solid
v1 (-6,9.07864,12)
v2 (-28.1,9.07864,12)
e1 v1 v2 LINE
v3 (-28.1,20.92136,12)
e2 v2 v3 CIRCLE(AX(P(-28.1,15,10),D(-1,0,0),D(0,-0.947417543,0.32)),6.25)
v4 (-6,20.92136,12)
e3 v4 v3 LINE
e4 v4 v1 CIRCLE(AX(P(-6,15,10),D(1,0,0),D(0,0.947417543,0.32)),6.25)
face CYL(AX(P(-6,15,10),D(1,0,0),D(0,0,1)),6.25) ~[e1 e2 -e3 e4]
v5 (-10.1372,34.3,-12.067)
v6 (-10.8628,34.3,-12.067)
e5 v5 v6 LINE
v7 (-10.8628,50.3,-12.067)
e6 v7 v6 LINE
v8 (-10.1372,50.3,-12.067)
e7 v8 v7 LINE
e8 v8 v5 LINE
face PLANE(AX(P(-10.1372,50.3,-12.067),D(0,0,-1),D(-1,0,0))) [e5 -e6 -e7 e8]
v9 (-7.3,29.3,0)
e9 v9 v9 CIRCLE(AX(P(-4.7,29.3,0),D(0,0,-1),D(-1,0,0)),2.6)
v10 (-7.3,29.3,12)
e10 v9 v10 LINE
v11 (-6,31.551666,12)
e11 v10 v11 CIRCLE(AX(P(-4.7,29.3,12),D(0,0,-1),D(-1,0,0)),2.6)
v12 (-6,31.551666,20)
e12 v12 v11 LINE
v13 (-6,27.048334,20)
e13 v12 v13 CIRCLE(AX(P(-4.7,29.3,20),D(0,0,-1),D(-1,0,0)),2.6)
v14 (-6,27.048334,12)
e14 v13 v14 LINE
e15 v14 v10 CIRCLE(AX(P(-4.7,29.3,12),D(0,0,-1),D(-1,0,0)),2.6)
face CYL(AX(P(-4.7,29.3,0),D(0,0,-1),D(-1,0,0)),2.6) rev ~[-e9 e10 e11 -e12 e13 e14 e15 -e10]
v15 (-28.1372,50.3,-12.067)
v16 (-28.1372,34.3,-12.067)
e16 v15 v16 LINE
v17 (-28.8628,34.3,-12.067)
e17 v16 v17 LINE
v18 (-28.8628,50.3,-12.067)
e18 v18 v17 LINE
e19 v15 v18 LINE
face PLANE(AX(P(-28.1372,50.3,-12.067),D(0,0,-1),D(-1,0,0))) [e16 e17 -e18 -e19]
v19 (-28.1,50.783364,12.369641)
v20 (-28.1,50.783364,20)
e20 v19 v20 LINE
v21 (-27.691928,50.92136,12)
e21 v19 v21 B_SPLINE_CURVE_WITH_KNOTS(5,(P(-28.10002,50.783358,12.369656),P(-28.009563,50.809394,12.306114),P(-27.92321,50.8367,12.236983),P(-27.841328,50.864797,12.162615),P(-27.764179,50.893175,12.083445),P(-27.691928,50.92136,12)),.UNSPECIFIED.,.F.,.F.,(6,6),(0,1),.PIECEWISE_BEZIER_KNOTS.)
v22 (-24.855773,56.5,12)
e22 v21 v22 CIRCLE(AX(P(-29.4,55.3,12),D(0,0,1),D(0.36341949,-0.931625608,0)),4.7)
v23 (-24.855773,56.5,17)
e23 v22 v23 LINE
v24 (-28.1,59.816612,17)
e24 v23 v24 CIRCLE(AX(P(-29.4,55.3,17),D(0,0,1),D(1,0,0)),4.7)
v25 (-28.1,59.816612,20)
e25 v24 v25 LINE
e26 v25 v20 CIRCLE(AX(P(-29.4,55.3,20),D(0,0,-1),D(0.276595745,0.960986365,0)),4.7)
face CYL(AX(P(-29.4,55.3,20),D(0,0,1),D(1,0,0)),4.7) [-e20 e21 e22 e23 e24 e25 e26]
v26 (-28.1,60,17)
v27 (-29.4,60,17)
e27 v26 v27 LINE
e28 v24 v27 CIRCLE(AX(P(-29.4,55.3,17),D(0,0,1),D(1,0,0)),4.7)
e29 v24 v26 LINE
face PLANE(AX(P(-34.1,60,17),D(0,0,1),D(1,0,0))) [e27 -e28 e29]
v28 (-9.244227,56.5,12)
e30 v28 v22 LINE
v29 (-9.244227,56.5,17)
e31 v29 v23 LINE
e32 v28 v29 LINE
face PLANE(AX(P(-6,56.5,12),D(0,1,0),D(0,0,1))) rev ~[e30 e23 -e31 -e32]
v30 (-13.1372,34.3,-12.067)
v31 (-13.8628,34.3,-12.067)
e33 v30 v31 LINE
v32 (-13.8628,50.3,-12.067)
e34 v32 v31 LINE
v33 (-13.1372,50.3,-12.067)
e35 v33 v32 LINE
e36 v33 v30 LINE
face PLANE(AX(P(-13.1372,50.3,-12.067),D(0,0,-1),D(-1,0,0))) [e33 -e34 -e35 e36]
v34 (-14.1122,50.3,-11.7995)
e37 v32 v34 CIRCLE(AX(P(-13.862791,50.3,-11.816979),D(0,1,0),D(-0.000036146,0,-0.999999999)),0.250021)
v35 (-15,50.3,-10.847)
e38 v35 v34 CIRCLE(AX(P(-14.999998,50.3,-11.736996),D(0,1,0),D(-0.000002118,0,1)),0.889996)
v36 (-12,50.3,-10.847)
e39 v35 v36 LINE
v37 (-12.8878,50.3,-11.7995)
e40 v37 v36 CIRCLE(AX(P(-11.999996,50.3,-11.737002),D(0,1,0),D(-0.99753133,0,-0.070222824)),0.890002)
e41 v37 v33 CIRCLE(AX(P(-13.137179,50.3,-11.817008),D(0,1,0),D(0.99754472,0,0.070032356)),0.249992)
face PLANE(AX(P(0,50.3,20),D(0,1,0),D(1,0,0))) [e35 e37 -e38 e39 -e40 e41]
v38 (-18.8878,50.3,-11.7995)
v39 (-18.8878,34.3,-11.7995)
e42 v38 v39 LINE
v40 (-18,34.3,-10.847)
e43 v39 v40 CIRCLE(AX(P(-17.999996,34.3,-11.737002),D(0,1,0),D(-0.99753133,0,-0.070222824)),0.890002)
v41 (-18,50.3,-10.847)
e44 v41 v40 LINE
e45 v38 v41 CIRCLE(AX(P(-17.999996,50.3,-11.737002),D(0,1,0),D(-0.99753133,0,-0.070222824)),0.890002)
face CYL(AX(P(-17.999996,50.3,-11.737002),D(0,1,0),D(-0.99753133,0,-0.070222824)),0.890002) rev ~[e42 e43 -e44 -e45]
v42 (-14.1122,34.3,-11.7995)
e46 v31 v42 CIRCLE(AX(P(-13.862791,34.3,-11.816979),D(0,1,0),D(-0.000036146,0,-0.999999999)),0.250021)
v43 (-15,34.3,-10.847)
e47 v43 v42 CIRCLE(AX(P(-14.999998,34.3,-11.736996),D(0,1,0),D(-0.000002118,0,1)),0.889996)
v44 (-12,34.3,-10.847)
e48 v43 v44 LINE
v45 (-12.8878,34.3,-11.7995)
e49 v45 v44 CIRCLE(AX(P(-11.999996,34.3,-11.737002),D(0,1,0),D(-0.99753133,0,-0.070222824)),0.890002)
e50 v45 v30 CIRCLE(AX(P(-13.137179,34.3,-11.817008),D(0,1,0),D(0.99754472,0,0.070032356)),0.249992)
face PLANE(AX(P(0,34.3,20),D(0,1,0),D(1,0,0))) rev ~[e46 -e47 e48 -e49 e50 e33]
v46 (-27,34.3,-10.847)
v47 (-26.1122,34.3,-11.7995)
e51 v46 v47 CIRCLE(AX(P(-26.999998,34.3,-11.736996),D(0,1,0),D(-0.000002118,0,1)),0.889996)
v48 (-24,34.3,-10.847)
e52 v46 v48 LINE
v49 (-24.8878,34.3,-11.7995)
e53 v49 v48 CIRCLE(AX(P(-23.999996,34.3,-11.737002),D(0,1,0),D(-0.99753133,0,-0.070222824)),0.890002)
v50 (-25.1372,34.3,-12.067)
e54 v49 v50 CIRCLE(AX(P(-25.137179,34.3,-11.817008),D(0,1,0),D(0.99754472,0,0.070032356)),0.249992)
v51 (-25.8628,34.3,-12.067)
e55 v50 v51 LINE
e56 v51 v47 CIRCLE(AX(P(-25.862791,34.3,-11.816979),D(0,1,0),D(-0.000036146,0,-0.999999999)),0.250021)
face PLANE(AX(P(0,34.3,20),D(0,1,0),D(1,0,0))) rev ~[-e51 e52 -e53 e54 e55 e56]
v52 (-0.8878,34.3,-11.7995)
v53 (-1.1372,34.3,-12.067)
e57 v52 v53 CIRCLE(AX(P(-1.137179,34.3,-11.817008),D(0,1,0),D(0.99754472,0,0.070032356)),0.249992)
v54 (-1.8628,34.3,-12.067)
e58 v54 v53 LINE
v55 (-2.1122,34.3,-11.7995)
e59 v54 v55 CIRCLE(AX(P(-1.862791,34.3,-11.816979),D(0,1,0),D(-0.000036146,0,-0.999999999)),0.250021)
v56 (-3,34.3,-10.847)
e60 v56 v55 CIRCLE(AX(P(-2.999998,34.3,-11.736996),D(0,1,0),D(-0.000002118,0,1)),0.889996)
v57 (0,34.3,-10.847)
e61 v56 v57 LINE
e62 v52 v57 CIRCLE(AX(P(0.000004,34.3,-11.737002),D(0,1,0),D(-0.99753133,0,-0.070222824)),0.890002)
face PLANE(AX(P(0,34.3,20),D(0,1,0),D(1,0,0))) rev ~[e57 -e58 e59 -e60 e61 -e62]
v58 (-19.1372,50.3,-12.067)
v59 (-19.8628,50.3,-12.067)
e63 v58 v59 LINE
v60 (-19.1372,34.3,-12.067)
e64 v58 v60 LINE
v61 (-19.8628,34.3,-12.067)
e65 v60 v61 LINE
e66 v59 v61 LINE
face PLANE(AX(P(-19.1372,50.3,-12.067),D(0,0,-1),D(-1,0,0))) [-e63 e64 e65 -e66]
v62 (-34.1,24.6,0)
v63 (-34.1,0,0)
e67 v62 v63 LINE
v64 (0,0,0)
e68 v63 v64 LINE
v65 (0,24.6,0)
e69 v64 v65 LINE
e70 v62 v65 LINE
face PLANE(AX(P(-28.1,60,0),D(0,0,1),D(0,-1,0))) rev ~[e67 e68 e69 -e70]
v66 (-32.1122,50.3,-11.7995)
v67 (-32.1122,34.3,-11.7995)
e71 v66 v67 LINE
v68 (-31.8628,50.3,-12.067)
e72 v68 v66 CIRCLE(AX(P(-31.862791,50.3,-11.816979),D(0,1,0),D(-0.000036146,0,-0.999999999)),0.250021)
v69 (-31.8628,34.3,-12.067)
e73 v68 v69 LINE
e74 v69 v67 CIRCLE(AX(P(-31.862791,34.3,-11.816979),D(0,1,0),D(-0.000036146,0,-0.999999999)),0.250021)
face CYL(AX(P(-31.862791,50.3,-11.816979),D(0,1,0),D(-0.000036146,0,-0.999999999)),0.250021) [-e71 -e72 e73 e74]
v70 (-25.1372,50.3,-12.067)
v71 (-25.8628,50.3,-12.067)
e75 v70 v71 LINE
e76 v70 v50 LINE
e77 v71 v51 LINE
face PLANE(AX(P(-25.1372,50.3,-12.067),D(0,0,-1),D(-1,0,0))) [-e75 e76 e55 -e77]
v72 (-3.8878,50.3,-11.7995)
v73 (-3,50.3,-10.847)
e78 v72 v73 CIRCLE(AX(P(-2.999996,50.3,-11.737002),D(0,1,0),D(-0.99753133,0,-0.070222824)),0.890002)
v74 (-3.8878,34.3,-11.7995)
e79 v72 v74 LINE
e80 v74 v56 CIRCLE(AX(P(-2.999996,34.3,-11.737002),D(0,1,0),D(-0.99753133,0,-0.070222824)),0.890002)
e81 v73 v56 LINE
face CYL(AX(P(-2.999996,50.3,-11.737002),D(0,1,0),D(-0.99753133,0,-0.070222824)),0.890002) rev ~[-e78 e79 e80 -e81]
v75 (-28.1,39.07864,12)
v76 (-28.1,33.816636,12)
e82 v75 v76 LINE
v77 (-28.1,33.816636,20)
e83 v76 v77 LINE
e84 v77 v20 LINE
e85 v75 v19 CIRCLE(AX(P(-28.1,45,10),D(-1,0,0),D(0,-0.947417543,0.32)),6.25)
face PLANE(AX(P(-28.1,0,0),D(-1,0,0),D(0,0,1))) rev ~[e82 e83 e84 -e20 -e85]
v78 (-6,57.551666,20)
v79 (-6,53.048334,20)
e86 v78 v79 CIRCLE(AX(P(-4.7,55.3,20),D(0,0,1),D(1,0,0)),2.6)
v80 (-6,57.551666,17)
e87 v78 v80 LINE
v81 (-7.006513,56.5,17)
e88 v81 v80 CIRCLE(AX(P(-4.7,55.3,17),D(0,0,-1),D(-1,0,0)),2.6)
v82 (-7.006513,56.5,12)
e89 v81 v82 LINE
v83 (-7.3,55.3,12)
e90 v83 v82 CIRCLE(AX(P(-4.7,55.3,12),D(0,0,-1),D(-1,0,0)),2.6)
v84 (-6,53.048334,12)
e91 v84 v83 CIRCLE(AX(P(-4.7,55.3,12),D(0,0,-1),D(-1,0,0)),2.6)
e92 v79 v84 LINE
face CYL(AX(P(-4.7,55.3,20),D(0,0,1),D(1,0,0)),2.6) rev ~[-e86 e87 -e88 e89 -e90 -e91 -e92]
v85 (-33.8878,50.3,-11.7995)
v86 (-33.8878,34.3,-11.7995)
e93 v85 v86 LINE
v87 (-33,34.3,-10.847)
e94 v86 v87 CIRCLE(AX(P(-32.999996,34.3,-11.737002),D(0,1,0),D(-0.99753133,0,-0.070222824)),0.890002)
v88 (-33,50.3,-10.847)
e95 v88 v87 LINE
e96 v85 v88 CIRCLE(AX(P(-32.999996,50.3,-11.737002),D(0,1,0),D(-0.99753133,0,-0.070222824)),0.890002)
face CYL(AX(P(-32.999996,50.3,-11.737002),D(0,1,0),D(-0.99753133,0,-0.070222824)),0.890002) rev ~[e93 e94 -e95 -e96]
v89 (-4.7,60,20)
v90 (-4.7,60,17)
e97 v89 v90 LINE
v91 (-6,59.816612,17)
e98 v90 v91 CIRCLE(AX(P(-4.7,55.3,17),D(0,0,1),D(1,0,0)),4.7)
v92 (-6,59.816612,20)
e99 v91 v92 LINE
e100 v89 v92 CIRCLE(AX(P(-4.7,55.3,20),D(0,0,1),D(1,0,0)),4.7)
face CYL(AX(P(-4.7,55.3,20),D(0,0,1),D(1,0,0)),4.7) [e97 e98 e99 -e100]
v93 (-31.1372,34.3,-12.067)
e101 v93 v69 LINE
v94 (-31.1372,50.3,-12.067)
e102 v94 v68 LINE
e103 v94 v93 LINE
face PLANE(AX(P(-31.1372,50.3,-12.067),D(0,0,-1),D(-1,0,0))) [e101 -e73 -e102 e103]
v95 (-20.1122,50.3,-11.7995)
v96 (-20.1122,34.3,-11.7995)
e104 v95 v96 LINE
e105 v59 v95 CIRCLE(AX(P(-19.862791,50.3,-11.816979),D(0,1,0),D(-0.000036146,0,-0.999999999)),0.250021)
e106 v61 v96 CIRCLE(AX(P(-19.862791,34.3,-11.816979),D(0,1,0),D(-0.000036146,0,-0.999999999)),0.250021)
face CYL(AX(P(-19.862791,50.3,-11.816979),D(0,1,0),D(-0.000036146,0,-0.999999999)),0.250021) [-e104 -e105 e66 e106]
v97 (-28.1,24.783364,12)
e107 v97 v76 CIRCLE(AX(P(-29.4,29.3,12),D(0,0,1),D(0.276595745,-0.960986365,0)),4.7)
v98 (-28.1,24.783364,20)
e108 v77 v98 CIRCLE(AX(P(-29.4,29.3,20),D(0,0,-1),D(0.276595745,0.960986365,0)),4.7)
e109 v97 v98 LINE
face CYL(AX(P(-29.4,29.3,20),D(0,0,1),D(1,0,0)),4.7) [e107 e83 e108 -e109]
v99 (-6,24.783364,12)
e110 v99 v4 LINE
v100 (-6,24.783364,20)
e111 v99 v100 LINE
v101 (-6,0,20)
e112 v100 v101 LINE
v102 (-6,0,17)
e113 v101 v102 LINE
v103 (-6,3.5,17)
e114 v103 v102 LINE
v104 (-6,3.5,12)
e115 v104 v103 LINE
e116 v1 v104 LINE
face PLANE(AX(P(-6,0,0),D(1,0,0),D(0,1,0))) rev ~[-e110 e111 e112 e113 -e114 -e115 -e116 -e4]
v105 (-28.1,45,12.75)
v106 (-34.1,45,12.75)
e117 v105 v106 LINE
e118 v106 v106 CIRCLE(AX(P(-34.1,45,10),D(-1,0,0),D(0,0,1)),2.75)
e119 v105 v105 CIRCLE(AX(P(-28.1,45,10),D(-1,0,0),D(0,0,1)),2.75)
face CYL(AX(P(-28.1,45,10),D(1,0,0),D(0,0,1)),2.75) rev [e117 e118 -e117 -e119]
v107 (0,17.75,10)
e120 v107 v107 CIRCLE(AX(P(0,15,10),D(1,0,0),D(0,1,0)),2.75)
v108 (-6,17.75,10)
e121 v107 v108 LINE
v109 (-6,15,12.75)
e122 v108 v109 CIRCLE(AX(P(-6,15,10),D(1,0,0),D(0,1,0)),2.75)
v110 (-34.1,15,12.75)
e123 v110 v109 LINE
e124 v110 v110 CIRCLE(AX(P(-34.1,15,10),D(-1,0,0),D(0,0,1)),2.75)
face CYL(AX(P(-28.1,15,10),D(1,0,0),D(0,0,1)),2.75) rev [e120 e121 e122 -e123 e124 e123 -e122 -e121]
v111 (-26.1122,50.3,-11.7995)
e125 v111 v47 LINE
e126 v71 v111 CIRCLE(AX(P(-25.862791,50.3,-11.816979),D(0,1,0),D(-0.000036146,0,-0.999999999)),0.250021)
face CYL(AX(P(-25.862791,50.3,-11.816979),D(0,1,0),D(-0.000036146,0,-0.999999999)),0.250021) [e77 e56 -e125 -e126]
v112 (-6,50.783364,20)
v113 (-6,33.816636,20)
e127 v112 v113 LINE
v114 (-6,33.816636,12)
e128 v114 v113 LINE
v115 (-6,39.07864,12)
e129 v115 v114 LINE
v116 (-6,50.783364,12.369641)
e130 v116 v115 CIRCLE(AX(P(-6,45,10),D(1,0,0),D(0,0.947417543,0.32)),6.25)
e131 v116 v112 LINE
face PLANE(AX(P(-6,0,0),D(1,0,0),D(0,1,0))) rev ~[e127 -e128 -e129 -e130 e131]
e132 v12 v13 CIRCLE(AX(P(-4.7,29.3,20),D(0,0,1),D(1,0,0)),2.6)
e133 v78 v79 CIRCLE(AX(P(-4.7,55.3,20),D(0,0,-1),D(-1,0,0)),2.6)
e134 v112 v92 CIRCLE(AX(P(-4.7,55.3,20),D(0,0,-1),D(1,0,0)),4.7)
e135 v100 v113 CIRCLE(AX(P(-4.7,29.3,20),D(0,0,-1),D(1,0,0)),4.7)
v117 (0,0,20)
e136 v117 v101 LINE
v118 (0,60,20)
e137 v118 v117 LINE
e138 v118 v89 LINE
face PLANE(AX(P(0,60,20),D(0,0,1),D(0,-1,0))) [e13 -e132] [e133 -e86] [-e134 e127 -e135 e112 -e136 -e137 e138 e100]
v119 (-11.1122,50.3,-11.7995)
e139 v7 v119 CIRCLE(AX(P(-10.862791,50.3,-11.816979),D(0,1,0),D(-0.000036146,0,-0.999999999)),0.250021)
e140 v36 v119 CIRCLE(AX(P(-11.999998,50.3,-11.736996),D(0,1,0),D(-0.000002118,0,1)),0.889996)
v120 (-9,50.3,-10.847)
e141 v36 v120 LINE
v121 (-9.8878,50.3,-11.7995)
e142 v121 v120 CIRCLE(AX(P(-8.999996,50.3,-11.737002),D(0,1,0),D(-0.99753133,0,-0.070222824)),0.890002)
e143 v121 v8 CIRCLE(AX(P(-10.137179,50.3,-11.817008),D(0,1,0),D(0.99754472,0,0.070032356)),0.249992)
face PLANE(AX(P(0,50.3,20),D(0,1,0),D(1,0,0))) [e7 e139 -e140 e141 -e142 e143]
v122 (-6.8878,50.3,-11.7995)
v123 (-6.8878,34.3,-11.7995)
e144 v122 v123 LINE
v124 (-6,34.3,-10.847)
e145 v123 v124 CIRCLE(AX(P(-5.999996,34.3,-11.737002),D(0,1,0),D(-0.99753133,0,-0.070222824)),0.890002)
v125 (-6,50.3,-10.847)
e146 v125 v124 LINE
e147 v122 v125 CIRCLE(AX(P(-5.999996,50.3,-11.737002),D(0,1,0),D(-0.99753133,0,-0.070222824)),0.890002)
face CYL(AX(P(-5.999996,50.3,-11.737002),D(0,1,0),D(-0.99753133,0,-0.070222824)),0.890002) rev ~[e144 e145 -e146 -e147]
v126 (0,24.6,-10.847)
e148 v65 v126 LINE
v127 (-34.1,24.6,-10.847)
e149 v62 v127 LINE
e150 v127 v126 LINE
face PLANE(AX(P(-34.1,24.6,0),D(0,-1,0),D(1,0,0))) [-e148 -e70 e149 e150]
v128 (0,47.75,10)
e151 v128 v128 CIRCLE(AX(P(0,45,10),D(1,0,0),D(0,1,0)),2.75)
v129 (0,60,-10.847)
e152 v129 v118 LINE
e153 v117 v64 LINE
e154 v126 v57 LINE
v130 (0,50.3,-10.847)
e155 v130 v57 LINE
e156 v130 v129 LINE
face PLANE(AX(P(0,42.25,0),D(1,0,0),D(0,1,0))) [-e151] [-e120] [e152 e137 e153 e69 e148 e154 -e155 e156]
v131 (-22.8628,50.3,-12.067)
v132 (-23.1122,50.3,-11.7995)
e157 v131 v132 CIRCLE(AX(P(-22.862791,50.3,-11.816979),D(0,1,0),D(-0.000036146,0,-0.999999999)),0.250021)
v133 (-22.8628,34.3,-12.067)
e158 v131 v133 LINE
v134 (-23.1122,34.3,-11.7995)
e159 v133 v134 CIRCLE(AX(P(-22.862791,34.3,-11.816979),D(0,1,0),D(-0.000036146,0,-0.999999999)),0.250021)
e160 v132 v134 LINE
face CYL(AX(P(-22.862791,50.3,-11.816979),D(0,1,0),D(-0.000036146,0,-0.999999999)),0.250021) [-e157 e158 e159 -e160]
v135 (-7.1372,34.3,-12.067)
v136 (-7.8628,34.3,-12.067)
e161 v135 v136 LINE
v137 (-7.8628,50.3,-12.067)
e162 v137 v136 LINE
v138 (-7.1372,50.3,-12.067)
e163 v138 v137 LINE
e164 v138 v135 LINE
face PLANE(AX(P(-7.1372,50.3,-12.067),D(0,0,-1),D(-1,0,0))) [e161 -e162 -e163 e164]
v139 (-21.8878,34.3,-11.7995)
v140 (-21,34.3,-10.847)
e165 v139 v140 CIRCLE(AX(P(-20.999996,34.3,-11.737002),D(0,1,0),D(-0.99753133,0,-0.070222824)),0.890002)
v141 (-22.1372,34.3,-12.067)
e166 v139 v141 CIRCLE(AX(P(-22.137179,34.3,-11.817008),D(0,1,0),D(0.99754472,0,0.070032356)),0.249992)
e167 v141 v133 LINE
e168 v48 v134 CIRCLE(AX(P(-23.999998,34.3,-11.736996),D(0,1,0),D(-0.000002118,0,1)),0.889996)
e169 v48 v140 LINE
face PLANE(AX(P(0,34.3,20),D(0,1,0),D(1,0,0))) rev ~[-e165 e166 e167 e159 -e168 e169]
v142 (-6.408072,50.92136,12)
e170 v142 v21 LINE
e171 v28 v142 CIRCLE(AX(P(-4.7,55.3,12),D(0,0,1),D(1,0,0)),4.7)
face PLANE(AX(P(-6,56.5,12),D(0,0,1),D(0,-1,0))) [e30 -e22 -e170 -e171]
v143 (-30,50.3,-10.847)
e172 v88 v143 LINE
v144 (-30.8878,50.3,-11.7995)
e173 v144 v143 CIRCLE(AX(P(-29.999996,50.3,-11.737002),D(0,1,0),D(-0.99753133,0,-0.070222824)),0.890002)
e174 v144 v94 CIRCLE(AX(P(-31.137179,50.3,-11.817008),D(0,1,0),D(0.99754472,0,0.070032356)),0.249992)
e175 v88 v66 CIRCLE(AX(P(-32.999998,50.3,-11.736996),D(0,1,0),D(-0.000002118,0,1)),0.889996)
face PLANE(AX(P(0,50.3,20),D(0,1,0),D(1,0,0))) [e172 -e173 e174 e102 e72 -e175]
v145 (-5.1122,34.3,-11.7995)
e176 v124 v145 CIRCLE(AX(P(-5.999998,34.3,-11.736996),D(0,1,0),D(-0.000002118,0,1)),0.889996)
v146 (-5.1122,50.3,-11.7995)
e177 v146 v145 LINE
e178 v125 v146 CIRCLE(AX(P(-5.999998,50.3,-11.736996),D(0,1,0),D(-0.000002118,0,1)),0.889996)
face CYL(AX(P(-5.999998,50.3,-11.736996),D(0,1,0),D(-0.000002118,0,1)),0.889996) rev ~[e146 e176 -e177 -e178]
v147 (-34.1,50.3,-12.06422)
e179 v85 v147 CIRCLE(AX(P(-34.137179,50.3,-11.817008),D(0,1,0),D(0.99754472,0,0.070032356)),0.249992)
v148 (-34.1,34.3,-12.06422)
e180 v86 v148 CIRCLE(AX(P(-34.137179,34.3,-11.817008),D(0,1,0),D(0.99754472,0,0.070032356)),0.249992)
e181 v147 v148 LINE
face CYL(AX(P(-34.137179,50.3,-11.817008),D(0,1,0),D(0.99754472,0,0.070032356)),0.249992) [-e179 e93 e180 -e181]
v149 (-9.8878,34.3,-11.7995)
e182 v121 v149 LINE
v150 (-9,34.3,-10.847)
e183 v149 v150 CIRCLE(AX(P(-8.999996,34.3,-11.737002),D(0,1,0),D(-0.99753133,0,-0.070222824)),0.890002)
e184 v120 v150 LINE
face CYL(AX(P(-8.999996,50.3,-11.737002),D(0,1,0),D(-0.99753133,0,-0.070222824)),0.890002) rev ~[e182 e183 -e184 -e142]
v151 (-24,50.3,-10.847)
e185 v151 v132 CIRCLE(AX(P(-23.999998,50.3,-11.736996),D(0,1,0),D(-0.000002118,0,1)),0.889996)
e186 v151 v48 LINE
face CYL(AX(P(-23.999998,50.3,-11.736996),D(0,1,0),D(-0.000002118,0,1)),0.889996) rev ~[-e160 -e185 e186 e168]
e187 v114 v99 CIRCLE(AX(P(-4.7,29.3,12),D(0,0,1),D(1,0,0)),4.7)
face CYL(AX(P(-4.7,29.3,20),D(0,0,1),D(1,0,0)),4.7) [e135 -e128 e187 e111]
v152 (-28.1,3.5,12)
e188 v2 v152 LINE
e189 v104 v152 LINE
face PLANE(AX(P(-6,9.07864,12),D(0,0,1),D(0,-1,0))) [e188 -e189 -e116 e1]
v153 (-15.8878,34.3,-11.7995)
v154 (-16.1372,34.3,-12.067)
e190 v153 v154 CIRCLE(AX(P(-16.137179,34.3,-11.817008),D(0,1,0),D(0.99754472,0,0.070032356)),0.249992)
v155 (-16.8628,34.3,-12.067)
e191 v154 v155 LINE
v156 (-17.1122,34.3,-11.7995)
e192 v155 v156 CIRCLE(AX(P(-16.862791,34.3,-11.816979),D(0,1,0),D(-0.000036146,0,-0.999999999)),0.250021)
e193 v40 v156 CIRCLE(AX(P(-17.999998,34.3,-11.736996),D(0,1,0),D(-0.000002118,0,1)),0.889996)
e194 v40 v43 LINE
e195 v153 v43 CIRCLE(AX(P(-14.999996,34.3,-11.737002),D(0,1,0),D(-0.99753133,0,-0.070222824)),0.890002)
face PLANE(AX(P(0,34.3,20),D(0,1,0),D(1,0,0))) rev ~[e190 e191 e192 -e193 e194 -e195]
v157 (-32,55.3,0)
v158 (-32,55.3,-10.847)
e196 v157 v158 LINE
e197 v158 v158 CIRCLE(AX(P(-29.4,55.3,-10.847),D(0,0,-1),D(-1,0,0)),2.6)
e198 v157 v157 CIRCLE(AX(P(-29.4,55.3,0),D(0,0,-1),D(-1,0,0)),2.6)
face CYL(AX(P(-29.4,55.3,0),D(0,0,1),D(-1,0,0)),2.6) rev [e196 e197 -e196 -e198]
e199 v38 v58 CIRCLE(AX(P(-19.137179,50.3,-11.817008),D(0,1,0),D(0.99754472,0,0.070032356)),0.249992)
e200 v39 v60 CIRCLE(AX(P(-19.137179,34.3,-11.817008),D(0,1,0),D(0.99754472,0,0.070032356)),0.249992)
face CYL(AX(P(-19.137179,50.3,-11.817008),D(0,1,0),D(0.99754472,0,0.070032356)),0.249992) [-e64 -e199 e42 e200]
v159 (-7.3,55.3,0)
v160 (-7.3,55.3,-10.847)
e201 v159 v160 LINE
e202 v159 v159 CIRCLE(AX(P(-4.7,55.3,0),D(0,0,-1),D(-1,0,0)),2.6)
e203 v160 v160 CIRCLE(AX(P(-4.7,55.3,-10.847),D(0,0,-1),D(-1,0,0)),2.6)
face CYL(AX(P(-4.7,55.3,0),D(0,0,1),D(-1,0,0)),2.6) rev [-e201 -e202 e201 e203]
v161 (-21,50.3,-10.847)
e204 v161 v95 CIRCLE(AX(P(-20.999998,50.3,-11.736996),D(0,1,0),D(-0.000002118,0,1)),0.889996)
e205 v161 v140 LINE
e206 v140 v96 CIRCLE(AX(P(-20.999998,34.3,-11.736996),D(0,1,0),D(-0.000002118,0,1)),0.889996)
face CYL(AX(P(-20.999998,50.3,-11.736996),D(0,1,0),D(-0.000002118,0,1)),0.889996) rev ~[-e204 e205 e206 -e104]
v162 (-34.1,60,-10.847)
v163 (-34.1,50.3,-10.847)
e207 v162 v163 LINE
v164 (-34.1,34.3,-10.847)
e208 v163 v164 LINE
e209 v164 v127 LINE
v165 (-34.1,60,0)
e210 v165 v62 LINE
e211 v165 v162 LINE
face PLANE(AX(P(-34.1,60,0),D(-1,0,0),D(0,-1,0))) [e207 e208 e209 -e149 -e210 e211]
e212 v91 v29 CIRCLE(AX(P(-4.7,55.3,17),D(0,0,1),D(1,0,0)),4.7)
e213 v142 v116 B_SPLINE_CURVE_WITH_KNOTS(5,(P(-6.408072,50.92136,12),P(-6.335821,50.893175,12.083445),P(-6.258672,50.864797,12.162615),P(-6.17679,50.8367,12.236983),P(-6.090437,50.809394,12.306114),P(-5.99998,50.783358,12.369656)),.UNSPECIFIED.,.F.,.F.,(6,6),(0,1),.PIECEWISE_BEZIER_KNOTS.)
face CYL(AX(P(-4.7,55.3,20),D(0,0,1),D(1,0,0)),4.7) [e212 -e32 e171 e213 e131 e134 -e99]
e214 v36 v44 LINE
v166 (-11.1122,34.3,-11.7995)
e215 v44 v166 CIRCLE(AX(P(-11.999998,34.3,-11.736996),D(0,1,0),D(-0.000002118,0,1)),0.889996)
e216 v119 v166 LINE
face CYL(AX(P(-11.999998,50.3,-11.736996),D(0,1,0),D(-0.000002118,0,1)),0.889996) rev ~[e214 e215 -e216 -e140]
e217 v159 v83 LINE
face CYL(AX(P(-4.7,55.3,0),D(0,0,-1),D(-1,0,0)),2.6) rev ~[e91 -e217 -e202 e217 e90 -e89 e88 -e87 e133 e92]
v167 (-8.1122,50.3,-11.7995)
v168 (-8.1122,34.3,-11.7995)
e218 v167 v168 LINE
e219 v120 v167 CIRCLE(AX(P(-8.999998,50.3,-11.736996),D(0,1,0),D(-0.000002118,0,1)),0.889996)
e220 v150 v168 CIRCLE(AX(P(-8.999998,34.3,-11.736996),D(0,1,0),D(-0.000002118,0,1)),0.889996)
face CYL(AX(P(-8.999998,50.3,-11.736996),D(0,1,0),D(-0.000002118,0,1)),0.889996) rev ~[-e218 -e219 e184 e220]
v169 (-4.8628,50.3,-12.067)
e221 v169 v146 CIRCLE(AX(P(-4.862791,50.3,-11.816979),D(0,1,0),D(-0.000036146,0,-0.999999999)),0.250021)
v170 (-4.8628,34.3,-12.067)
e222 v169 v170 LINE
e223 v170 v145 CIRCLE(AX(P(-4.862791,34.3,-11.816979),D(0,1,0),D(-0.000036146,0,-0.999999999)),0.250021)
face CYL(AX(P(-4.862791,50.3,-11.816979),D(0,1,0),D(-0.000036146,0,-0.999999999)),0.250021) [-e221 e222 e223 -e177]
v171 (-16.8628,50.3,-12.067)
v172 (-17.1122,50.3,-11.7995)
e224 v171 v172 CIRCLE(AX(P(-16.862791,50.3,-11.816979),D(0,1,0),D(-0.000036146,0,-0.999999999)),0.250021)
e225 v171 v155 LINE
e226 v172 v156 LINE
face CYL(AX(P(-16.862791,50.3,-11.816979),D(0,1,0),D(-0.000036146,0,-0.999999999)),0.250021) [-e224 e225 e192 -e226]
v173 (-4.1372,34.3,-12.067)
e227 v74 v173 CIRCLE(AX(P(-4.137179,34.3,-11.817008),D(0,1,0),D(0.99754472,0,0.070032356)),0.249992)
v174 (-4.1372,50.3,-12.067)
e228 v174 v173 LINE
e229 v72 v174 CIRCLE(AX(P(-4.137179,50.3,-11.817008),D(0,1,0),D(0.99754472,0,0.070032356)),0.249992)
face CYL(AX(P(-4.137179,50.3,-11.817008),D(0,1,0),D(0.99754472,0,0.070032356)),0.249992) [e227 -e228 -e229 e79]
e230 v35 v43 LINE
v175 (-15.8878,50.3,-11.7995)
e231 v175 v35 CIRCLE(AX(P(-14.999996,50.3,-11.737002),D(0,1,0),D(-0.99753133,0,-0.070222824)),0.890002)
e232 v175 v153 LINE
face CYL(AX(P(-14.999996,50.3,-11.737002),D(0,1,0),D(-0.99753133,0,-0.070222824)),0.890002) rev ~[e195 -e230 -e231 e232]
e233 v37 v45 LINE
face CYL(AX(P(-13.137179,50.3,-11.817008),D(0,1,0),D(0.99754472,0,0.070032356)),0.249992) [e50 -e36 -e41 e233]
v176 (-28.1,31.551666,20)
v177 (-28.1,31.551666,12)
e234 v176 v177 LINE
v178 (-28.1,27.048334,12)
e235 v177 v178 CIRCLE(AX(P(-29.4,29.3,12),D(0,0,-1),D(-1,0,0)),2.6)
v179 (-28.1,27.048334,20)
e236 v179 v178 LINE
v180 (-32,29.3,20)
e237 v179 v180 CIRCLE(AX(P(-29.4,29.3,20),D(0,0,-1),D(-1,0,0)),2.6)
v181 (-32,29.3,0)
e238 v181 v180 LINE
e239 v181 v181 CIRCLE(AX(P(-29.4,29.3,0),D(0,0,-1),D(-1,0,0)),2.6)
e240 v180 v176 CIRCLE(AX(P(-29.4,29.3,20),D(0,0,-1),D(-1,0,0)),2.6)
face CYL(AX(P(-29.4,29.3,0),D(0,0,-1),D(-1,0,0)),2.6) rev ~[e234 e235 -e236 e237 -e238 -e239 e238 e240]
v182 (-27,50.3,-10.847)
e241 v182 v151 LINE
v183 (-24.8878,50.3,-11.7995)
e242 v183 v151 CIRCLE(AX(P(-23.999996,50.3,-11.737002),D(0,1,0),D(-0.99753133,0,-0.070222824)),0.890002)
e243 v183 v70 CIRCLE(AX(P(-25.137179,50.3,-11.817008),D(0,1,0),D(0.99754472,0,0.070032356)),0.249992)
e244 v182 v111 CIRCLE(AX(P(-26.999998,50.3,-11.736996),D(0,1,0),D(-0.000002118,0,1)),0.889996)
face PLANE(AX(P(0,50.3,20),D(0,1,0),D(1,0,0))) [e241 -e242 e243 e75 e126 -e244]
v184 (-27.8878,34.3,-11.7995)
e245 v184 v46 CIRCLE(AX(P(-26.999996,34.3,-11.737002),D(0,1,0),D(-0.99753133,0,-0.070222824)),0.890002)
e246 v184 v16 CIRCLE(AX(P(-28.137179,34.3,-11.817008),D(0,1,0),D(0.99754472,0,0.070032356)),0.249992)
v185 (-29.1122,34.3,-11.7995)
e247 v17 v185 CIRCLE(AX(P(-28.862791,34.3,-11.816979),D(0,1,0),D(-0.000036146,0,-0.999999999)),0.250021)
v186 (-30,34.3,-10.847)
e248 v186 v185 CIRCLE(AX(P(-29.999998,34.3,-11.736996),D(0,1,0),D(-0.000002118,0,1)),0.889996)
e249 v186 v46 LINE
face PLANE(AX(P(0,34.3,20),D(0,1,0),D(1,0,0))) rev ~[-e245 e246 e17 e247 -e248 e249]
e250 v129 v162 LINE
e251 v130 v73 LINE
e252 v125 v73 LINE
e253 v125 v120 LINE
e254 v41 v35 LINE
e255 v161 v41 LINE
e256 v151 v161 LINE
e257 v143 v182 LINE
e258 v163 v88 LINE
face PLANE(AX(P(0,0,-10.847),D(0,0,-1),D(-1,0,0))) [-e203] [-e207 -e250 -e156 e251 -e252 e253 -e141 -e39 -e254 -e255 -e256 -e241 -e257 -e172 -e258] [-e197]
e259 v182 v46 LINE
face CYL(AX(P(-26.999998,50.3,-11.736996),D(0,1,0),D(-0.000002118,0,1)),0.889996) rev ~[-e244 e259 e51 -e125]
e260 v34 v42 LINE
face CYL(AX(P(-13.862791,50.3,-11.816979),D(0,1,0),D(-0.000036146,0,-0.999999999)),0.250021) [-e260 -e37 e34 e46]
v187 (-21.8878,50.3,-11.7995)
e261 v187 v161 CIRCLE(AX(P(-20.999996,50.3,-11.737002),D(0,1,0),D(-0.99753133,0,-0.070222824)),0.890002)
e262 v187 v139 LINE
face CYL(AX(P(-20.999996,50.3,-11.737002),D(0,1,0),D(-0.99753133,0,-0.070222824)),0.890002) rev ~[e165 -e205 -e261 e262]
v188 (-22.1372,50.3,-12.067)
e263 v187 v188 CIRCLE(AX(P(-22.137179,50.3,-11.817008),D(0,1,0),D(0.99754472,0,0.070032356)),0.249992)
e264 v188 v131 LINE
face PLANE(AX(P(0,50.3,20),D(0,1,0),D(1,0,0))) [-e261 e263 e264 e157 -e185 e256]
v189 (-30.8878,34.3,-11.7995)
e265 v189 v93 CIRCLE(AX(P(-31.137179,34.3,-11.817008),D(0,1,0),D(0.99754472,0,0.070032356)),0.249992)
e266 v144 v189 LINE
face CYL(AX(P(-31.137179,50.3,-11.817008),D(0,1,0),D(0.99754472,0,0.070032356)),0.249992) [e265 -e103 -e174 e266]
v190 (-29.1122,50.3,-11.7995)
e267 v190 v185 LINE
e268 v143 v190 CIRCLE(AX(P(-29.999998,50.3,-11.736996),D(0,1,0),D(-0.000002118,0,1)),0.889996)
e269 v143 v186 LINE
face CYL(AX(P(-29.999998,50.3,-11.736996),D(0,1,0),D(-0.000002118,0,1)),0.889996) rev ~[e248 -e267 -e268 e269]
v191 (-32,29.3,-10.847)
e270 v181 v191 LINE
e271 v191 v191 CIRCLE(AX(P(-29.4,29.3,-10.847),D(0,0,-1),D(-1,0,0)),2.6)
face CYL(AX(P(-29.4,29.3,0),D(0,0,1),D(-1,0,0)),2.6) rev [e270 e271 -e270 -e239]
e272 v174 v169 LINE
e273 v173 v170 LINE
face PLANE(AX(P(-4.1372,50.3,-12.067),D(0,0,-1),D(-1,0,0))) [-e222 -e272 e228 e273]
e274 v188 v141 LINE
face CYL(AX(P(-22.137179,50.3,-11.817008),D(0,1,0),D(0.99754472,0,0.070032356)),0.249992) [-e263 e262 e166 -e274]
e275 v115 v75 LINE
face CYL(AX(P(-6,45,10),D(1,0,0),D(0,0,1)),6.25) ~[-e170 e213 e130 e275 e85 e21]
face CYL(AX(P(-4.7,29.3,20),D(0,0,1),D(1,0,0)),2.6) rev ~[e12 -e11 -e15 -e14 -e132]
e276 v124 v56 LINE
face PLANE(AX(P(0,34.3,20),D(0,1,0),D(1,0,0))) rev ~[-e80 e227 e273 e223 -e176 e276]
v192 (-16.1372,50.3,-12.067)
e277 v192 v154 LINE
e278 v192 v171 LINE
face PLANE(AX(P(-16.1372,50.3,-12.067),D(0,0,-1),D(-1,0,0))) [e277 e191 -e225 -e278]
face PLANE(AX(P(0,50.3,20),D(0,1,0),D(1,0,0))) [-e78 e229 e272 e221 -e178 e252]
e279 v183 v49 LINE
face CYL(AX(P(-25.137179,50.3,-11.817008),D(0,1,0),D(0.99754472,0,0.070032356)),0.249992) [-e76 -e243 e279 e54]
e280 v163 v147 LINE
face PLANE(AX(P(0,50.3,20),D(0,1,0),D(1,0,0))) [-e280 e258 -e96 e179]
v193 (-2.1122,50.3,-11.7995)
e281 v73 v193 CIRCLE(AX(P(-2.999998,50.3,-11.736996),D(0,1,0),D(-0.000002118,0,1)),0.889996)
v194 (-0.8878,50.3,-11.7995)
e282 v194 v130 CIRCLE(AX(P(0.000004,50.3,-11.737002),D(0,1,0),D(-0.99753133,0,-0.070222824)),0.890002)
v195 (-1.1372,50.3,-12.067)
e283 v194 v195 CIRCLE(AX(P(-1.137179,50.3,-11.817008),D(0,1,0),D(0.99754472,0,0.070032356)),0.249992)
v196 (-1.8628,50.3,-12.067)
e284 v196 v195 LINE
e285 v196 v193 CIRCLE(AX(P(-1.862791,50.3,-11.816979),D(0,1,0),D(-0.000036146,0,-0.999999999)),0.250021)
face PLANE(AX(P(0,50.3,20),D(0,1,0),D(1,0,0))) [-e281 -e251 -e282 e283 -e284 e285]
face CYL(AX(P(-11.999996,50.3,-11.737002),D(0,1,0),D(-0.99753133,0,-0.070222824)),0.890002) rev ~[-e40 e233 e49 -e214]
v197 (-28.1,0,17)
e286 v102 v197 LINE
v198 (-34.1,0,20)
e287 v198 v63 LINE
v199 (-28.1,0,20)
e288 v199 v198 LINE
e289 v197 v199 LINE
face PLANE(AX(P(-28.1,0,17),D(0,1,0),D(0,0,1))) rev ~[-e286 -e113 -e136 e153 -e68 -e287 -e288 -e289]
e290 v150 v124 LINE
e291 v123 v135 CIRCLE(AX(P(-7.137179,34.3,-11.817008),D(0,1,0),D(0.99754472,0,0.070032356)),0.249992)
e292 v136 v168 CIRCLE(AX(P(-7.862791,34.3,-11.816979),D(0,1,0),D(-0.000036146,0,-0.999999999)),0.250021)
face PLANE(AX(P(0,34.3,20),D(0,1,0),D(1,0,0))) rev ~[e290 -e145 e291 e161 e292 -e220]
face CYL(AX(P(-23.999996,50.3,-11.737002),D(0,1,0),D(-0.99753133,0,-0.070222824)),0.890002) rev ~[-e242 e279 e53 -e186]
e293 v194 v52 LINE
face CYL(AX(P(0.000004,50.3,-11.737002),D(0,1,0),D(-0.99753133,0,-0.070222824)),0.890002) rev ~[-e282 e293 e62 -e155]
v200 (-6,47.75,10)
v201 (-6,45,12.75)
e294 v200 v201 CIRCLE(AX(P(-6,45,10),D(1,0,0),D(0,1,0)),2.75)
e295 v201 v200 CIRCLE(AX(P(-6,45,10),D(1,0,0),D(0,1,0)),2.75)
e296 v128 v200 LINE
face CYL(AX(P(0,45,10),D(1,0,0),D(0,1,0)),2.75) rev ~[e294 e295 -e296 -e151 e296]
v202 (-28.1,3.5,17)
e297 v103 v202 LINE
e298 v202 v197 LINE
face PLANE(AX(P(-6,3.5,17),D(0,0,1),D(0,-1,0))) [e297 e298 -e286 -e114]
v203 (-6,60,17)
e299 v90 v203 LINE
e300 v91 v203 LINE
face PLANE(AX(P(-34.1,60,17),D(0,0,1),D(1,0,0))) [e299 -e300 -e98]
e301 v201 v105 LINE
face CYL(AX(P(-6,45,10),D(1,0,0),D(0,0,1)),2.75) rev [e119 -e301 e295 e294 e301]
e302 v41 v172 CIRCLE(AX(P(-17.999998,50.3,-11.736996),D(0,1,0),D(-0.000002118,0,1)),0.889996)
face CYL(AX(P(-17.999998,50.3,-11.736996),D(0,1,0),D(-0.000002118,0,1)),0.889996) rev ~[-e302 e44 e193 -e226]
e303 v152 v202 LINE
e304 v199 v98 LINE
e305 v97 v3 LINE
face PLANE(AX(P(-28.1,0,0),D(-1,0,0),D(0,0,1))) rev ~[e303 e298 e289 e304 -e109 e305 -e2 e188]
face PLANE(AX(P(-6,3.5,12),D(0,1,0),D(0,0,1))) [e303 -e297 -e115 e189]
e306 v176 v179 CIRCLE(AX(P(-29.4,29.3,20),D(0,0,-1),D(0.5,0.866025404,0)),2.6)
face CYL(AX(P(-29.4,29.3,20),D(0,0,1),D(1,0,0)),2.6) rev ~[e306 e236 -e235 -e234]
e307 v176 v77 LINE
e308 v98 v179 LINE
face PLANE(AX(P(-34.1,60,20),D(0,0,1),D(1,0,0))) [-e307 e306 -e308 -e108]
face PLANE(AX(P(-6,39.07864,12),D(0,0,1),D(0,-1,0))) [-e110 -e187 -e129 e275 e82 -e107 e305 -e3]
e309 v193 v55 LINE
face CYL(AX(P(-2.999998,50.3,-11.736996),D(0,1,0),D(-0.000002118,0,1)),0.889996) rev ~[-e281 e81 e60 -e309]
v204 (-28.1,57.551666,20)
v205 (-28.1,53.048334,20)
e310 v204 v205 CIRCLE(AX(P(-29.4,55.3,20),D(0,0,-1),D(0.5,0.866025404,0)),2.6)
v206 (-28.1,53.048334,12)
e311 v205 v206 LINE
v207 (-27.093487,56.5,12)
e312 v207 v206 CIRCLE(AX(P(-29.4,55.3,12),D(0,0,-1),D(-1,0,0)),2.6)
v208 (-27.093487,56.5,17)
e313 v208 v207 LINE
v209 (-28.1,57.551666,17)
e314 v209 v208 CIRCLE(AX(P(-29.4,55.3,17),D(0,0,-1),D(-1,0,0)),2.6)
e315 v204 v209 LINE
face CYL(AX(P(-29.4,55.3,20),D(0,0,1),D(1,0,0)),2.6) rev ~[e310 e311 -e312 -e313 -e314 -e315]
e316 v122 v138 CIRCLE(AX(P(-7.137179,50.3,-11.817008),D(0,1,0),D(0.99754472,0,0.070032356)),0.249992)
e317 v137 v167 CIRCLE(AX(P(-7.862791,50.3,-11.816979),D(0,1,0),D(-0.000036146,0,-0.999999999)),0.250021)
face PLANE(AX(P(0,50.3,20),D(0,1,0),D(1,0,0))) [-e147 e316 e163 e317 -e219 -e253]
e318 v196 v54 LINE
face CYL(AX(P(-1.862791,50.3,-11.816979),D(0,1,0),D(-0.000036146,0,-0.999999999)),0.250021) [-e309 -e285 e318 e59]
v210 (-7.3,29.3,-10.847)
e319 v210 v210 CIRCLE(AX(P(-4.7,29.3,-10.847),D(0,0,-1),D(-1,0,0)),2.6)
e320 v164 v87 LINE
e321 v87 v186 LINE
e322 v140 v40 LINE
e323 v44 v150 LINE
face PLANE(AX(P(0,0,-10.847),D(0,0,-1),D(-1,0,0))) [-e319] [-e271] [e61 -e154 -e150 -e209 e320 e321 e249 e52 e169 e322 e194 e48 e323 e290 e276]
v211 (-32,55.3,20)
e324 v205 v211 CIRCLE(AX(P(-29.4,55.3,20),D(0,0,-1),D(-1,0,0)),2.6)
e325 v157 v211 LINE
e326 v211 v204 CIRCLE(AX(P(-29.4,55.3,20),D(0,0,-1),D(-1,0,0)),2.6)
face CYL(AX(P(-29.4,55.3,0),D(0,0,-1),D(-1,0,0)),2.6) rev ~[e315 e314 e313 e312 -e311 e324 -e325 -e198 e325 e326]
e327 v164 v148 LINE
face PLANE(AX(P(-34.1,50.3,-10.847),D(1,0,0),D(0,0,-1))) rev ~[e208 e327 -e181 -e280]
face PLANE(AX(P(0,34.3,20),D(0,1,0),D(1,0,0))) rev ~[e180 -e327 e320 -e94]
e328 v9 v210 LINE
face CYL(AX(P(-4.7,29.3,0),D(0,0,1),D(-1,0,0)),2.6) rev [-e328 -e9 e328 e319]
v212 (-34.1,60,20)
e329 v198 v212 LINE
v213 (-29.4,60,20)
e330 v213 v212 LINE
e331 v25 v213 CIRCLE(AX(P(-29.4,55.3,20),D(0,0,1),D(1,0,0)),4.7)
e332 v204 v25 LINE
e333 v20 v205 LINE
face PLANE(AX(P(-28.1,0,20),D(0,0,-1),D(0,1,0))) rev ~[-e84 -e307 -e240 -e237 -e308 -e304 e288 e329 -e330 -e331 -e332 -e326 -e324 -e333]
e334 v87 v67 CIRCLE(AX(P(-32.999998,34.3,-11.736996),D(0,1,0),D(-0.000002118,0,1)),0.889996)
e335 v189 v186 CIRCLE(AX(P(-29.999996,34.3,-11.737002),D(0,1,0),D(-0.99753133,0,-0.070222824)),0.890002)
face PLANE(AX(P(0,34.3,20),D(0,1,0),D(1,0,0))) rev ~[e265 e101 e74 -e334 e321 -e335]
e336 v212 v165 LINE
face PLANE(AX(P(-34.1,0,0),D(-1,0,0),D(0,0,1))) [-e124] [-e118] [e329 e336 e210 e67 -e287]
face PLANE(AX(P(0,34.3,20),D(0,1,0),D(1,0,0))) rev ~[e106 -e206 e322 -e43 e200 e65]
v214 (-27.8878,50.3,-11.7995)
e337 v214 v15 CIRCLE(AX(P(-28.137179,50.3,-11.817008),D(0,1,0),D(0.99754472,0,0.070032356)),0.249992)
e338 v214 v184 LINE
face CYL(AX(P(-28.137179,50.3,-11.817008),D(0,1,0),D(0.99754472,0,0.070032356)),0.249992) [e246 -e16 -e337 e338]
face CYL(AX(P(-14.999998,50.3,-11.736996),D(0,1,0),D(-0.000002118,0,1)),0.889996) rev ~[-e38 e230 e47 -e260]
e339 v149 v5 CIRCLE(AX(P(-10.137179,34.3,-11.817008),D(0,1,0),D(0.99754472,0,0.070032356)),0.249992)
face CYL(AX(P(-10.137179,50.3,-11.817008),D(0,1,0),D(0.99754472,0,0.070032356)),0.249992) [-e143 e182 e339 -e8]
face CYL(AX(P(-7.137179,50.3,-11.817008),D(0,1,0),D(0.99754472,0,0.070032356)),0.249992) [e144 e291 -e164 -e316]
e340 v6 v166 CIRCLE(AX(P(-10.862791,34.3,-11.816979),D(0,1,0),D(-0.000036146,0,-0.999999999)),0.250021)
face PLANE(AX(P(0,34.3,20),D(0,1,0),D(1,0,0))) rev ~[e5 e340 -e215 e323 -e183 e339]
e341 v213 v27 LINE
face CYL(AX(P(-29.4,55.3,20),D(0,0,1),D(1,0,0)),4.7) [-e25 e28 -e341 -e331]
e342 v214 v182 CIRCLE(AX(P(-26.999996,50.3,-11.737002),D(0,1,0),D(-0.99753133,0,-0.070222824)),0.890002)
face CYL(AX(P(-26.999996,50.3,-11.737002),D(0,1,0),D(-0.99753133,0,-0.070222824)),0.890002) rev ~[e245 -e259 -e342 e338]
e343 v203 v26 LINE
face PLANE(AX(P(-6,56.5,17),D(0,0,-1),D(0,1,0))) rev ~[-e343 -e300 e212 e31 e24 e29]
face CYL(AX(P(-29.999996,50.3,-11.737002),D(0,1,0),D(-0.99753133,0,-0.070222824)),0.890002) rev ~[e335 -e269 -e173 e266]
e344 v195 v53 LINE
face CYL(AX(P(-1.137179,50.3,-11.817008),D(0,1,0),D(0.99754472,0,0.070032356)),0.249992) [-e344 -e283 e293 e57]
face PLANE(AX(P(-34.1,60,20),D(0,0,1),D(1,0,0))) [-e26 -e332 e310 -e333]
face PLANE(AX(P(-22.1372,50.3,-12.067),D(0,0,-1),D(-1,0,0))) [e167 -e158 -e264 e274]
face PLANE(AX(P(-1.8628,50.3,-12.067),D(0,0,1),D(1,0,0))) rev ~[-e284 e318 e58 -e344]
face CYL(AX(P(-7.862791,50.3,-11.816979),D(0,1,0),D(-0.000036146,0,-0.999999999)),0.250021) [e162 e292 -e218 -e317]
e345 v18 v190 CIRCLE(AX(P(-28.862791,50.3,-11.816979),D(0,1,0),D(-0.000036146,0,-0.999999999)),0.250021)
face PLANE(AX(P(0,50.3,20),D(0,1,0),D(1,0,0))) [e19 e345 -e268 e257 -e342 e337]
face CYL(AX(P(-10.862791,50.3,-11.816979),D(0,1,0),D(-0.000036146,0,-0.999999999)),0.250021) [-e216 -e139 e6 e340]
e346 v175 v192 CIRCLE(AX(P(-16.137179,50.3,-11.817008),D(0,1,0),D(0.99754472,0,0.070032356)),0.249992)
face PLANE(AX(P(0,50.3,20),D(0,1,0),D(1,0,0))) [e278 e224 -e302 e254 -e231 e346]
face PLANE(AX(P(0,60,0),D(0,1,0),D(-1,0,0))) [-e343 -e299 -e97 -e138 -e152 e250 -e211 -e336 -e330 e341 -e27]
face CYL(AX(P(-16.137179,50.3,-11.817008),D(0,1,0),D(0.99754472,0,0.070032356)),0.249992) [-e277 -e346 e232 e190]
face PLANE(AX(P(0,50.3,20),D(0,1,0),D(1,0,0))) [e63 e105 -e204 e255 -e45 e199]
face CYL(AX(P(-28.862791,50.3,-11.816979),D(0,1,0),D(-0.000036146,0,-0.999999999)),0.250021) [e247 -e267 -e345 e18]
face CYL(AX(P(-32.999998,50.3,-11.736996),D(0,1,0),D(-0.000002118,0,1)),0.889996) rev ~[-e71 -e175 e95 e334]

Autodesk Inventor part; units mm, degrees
ref_plane "YZ Plane" through (0, 0, 0) normal (1, 0, 0) x (0, 1, 0)
ref_plane "XZ Plane" through (0, 0, 0) normal (0, 1, 0) x (-1, 0, 0)
sketch "Sketch1" plane through (0, 0, 0) normal (1, 0, 0) x (0, 1, 0)
  line L0 (0, 0) -> (60, 0)
  line L1 (60, 0) -> (60, 20)
  line L2 (60, 20) -> (0, 20)
  line L3 (0, 20) -> (0, 0)
  line L4 (60, 10) -> (0, 10) construction
  line L5 (60, 10) -> (30, 10) construction
  line L6 (30, 10) -> (0, 10) construction
  circle A0 centre (45, 10) radius 2.75
  circle A1 centre (15, 10) radius 2.75
  dimension "d0" = 60
  dimension "d1" = 20
  dimension "d2" = 5.5
  dimension "d3" = 5.5
extrude "Extrusion1" add sketch "Sketch1" against normal blind 6
sketch "Sketch2" plane through (-6, 0, 0) normal (-1, 0, 0) x (0, 0, 1)
  circle A0 centre (10, 45) radius 2.75
  circle A1 centre (10, 15) radius 2.75
  circle A2 centre (10, 45) radius 6.25
  circle A3 centre (10, 15) radius 6.25
  line L0 (20, 60) -> (0, 60)
  line L1 (12, 60) -> (12, 0)
  line L2 (8, 60) -> (8, 0)
  line L3 (0, 0) -> (20, 0)
  line L4 (0, 60) -> (0, 0)
  line L5 (20, 0) -> (20, 60)
  line L6 (12, 56.5) -> (17, 56.5)
  line L7 (17, 56.5) -> (17, 60)
  line L8 (8, 56.5) -> (3, 56.5)
  line L9 (3, 56.5) -> (3, 60)
  line L10 (8, 3.5) -> (3, 3.5)
  line L11 (3, 3.5) -> (3, 0)
  line L12 (12, 3.5) -> (17, 3.5)
  line L13 (17, 3.5) -> (17, 0)
  point P0 (12, 39.0786)
  point P1 (12, 50.9214)
  point P2 (8, 50.9214)
  point P3 (8, 39.0786)
  point P4 (8, 20.9214)
  point P5 (8, 9.0786)
  point P6 (12, 9.0786)
  point P7 (12, 20.9214)
  dimension "d6" = 3.5
  dimension "d7" = 8
  dimension "d8" = 8
  dimension "d9" = 3.5
  dimension "d10" = 3.5
  dimension "d11" = 3.5
  dimension "d16" = 3.5
extrude "Extrusion2" add sketch "Sketch2" along normal blind 22.1 contours A0 L1 A2 | A0 L2 A2 L1 | L1 A2 L2 A0 | A0 L2 A2 | A2 L2 L0 L1 | L1 A3 L2 A2 | A2 L2 A3 L10 L11 L3 L4 L0 L9 L8 | L1 L0 L7 L6 | L1 A1 L2 A3 | A3 L1 A1 | L8 L9 L0 L2 | L2 A1 A3 | L2 A1 L1 A3 | A3 L1 L3 L2 | L2 L3 L11 L10 | L12 L13 L3 L1
sketch "Sketch3" plane through (-28.1, 0, 0) normal (-1, 0, 0) x (0, 0, 1)
  circle A0 centre (10, 45) radius 2.75
  circle A1 centre (10, 15) radius 2.75
  line L0 (20, 0) -> (20, 60)
  line L1 (17, 0) -> (20, 0)
  line L2 (0, 0) -> (17, 0)
  line L3 (0, 0) -> (20, 0)
  line L4 (0, 60) -> (0, 0)
  line L5 (20, 60) -> (17, 60)
  line L6 (17, 60) -> (0, 60)
  line L7 (20, 60) -> (17, 60)
  point P0 (3, 0)
  point P1 (3, 60)
extrude "Extrusion3" add sketch "Sketch3" along normal blind 6
sketch "Sketch4" plane through (0, 0, 0) normal (0, 0, -1) x (-1, 0, 0)
  line L0 (0, 42.25) -> (0, 47.75)
  line L1 (0, 0) -> (0, 60)
  line L2 (0, 50.3) -> (34.1, 50.3) construction
  line L3 (34.1, 60) -> (34.1, 0)
  line L4 (0, 34.3) -> (34.1, 34.3) construction
  line L5 (29.4, 55.3) -> (4.7, 55.3) construction
  line L6 (4.7, 55.3) -> (4.7, 29.3) construction
  line L7 (4.7, 29.3) -> (29.4, 29.3) construction
  line L8 (29.4, 29.3) -> (29.4, 55.3) construction
  circle A0 centre (29.4, 55.3) radius 2.6
  circle A1 centre (29.4, 29.3) radius 2.6
  circle A2 centre (4.7, 29.3) radius 2.6
  circle A3 centre (4.7, 55.3) radius 2.6
  line L9 (0, 60) -> (34.1, 60)
  line L10 (34.1, 24.6) -> (0, 24.6)
  line L11 (0, 60) -> (0, 0)
  dimension "d17" = 2.55
  dimension "d18" = 16
  dimension "d19" = 5.2
  dimension "d20" = 5.2
  dimension "d21" = 5.2
  dimension "d22" = 5.2
  dimension "d23" = 5
  dimension "d24" = 5
  dimension "d25" = 4.7
  dimension "d26" = 4.7
  dimension "d27" = 4.7
  dimension "d28" = 4.7
extrude "Extrusion4" add sketch "Sketch4" along normal blind 10.847
sketch "Sketch5" plane through (-4.7, 29.3, 0) normal (0, 0, -1) x (-1, 0, 0)
  line L0 (-4.7, 30.7) -> (-4.7, -4.7)
  line L1 (-4.7, -4.7) -> (29.4, -4.7)
  line L2 (29.4, -4.7) -> (29.4, 30.7)
  line L3 (29.4, 30.7) -> (-4.7, 30.7)
  circle A0 centre (24.7, 26) radius 2.6
  circle A1 centre (24.7, 0) radius 2.6
  circle A2 centre (0, 0) radius 2.6
  circle A3 centre (0, 26) radius 2.6
  point P0 (-4.7, -29.3)
extrude "Extrusion5" cut sketch "Sketch5" against normal through all contours A0 | A1 | A2 | A3
sketch "Sketch6" plane through (-34.1, 60, 20) normal (0, 0, 1) x (1, 0, 0)
  line L0 (34.1, 0) -> (34.1, -35.4)
  line L1 (34.1, -35.4) -> (0, -35.4)
  line L2 (0, -35.4) -> (0, 0)
  line L3 (0, 0) -> (34.1, 0)
  circle A0 centre (4.7, -4.7) radius 2.6
  circle A1 centre (4.7, -30.7) radius 2.6
  circle A2 centre (29.4, -30.7) radius 2.6
  circle A3 centre (29.4, -4.7) radius 2.6
  circle A4 centre (4.7, -4.7) radius 4.7
  circle A5 centre (29.4, -4.7) radius 4.7
  circle A6 centre (4.7, -30.7) radius 4.7
  circle A7 centre (29.4, -30.7) radius 4.7
  point P0 (34.1, -60)
  dimension "d33" = 2.1
  dimension "d34" = 2.1
  dimension "d35" = 2.1
  dimension "d36" = 2.1
extrude "Extrusion6" add sketch "Sketch6" against normal up to next contours A5 | A7 | A4 | A6
sketch "Sketch7" plane through (-34.1, 60, 20) normal (0, 0, 1) x (1, 0, 0)
  arc A0 (6, -9.2166) -> (6, -0.1834) centre (4.7, -4.7) ccw
  arc A1 (28.1, -0.1834) -> (28.1, -9.2166) centre (29.4, -4.7) ccw
  circle A2 centre (4.7, -4.7) radius 4.7
  circle A3 centre (29.4, -4.7) radius 4.7
  circle A4 centre (29.4, -30.7) radius 2.6
  circle A5 centre (29.4, -4.7) radius 2.6
  arc A6 (28.1, -0.1834) -> (28.1, -9.2166) centre (29.4, -4.7) ccw
  line L0 (28.1, -26.1834) -> (28.1, -9.2166)
  arc A7 (28.1, -26.1834) -> (28.1, -35.2166) centre (29.4, -30.7) ccw
  line L1 (28.1, -60) -> (28.1, -35.2166)
  line L2 (34.1, -60) -> (28.1, -60)
  line L3 (34.1, 0) -> (34.1, -60)
  line L4 (34.1, 0) -> (28.1, 0)
  line L5 (28.1, -0.1834) -> (28.1, 0)
  circle A8 centre (4.7, -30.7) radius 2.6
  circle A9 centre (4.7, -4.7) radius 2.6
  line L6 (6, 0) -> (0, 0)
  line L7 (0, -60) -> (0, 0)
  line L8 (6, -60) -> (0, -60)
  line L9 (6, -60) -> (6, -35.2166)
  arc A10 (6, -35.2166) -> (6, -26.1834) centre (4.7, -30.7) ccw
  line L10 (6, -26.1834) -> (6, -9.2166)
  arc A11 (6, -9.2166) -> (6, -0.1834) centre (4.7, -4.7) ccw
  line L11 (6, -0.1834) -> (6, 0)
  point P0 (29.4, 0)
  point P1 (4.7, 0)
extrude "Extrusion7" cut sketch "Sketch7" against normal up to surface (3 mm away) contours A2 L6 L11 | L5 L4 A3
ref_plane "Work Plane2" through (0, 50.3, 20) normal (0, 1, 0) x (1, 0, 0)
sketch "Sketch9" plane through (0, 50.3, 20) normal (0, 1, 0) x (1, 0, 0)
  line L0 (-34.1, 30.847) -> (0, 30.847)
  line L1 (0, 33.247) -> (-34.1, 33.247)
  arc A0 (-0.8878, 31.7995) -> (0, 30.847) centre (0, 31.737) ccw
  line L2 (-3, 33.247) -> (-3, 30.847) construction
  line L3 (-7.3, 30.847) -> (-2.1, 30.847)
  line L4 (0, 30.847) -> (-34.1, 30.847) construction
  line L5 (0, 33.247) -> (0, 30.847)
  arc A1 (-3, 30.847) -> (-2.1122, 31.7995) centre (-3, 31.737) ccw
  line L6 (-34.1, 32.067) -> (-3, 32.067) construction
  line L7 (-1.8628, 32.067) -> (-1.1372, 32.067)
  arc A2 (-1.8628, 32.067) -> (-2.1122, 31.7995) centre (-1.8628, 31.817) ccw
  arc A3 (-0.8878, 31.7995) -> (-1.1372, 32.067) centre (-1.1372, 31.817) ccw
  arc A4 (-6, 30.847) -> (-5.1122, 31.7995) centre (-6, 31.737) ccw
  line L8 (-6, 33.247) -> (-6, 30.847) construction
  arc A5 (-3.8878, 31.7995) -> (-3, 30.847) centre (-3, 31.737) ccw
  line L9 (-4.1372, 32.067) -> (-4.8628, 32.067)
  arc A6 (-3.8878, 31.7995) -> (-4.1372, 32.067) centre (-4.1372, 31.817) ccw
  arc A7 (-4.8628, 32.067) -> (-5.1122, 31.7995) centre (-4.8628, 31.817) ccw
  line L10 (-9, 33.247) -> (-9, 30.847) construction
  arc A8 (-9, 30.847) -> (-8.1122, 31.7995) centre (-9, 31.737) ccw
  arc A9 (-7.8628, 32.067) -> (-8.1122, 31.7995) centre (-7.8628, 31.817) ccw
  line L11 (-7.1372, 32.067) -> (-7.8628, 32.067)
  arc A10 (-6.8878, 31.7995) -> (-7.1372, 32.067) centre (-7.1372, 31.817) ccw
  arc A11 (-6.8878, 31.7995) -> (-6, 30.847) centre (-6, 31.737) ccw
  line L12 (-12, 33.247) -> (-12, 30.847) construction
  arc A12 (-12, 30.847) -> (-11.1122, 31.7995) centre (-12, 31.737) ccw
  arc A13 (-10.8628, 32.067) -> (-11.1122, 31.7995) centre (-10.8628, 31.817) ccw
  line L13 (-10.1372, 32.067) -> (-10.8628, 32.067)
  arc A14 (-9.8878, 31.7995) -> (-10.1372, 32.067) centre (-10.1372, 31.817) ccw
  arc A15 (-9.8878, 31.7995) -> (-9, 30.847) centre (-9, 31.737) ccw
  line L14 (-15, 33.247) -> (-15, 30.847) construction
  arc A16 (-15, 30.847) -> (-14.1122, 31.7995) centre (-15, 31.737) ccw
  arc A17 (-13.8628, 32.067) -> (-14.1122, 31.7995) centre (-13.8628, 31.817) ccw
  line L15 (-13.1372, 32.067) -> (-13.8628, 32.067)
  arc A18 (-12.8878, 31.7995) -> (-13.1372, 32.067) centre (-13.1372, 31.817) ccw
  arc A19 (-12.8878, 31.7995) -> (-12, 30.847) centre (-12, 31.737) ccw
  line L16 (-18, 33.247) -> (-18, 30.847) construction
  arc A20 (-18, 30.847) -> (-17.1122, 31.7995) centre (-18, 31.737) ccw
  arc A21 (-16.8628, 32.067) -> (-17.1122, 31.7995) centre (-16.8628, 31.817) ccw
  line L17 (-16.1372, 32.067) -> (-16.8628, 32.067)
  arc A22 (-15.8878, 31.7995) -> (-16.1372, 32.067) centre (-16.1372, 31.817) ccw
  arc A23 (-15.8878, 31.7995) -> (-15, 30.847) centre (-15, 31.737) ccw
  line L18 (-21, 33.247) -> (-21, 30.847) construction
  arc A24 (-21, 30.847) -> (-20.1122, 31.7995) centre (-21, 31.737) ccw
  arc A25 (-19.8628, 32.067) -> (-20.1122, 31.7995) centre (-19.8628, 31.817) ccw
  line L19 (-19.1372, 32.067) -> (-19.8628, 32.067)
  arc A26 (-18.8878, 31.7995) -> (-19.1372, 32.067) centre (-19.1372, 31.817) ccw
  arc A27 (-18.8878, 31.7995) -> (-18, 30.847) centre (-18, 31.737) ccw
  line L20 (-24, 33.247) -> (-24, 30.847) construction
  arc A28 (-24, 30.847) -> (-23.1122, 31.7995) centre (-24, 31.737) ccw
  arc A29 (-22.8628, 32.067) -> (-23.1122, 31.7995) centre (-22.8628, 31.817) ccw
  line L21 (-22.1372, 32.067) -> (-22.8628, 32.067)
  arc A30 (-21.8878, 31.7995) -> (-22.1372, 32.067) centre (-22.1372, 31.817) ccw
  arc A31 (-21.8878, 31.7995) -> (-21, 30.847) centre (-21, 31.737) ccw
  line L22 (-27, 33.247) -> (-27, 30.847) construction
  arc A32 (-27, 30.847) -> (-26.1122, 31.7995) centre (-27, 31.737) ccw
  arc A33 (-25.8628, 32.067) -> (-26.1122, 31.7995) centre (-25.8628, 31.817) ccw
  line L23 (-25.1372, 32.067) -> (-25.8628, 32.067)
  arc A34 (-24.8878, 31.7995) -> (-25.1372, 32.067) centre (-25.1372, 31.817) ccw
  arc A35 (-24.8878, 31.7995) -> (-24, 30.847) centre (-24, 31.737) ccw
  line L24 (-30, 33.247) -> (-30, 30.847) construction
  arc A36 (-30, 30.847) -> (-29.1122, 31.7995) centre (-30, 31.737) ccw
  arc A37 (-28.8628, 32.067) -> (-29.1122, 31.7995) centre (-28.8628, 31.817) ccw
  line L25 (-28.1372, 32.067) -> (-28.8628, 32.067)
  arc A38 (-27.8878, 31.7995) -> (-28.1372, 32.067) centre (-28.1372, 31.817) ccw
  arc A39 (-27.8878, 31.7995) -> (-27, 30.847) centre (-27, 31.737) ccw
  line L26 (-33, 33.247) -> (-33, 30.847) construction
  arc A40 (-33, 30.847) -> (-32.1122, 31.7995) centre (-33, 31.737) ccw
  arc A41 (-31.8628, 32.067) -> (-32.1122, 31.7995) centre (-31.8628, 31.817) ccw
  line L27 (-31.1372, 32.067) -> (-31.8628, 32.067)
  arc A42 (-30.8878, 31.7995) -> (-31.1372, 32.067) centre (-31.1372, 31.817) ccw
  arc A43 (-30.8878, 31.7995) -> (-30, 30.847) centre (-30, 31.737) ccw
  line L28 (-36, 33.247) -> (-36, 30.847) construction
  arc A44 (-36, 30.847) -> (-35.1122, 31.7995) centre (-36, 31.737) ccw
  arc A45 (-34.8628, 32.067) -> (-35.1122, 31.7995) centre (-34.8628, 31.817) ccw
  line L29 (-34.1372, 32.067) -> (-34.8628, 32.067)
  arc A46 (-33.8878, 31.7995) -> (-34.1372, 32.067) centre (-34.1372, 31.817) ccw
  arc A47 (-33.8878, 31.7995) -> (-33, 30.847) centre (-33, 31.737) ccw
  line L30 (-34.1, 20) -> (-34.1, 30.847)
  line L31 (-34.1, 30.847) -> (-34.1, 33.247)
  point P0 (0, 20)
  point P1 (-0.8266, 32.067)
  point P2 (-2.1734, 32.067)
  point P3 (-34.1, 32.0642)
  dimension "d58" = 2.4
  dimension "d60" = 1.78
  dimension "d61" = 3
  dimension "d62" = 1.78
  dimension "d63" = 0.25
  dimension "d64" = 0.25
  dimension "d67" = 3
extrude "Extrusion9" add sketch "Sketch9" against normal blind 16 contours L31 A46 A47 L0 | A40 A41 L27 A42 A43 L0 | A36 A37 L25 A38 A39 L0 | A32 A33 L23 A34 A35 L0 | A28 A29 L21 A30 A31 L0 | L0 A1 A2 L7 A3 A0 | A24 A25 L19 A26 A27 L0 | A20 A21 L17 A22 A23 L0 | L0 A4 A7 L9 A6 A5 | A16 A17 L15 A18 A19 L0 | L0 A8 A9 L11 A10 A11 | A12 A13 L13 A14 A15 L0
equation "\"d3\" = d2"
equation "\"d16\" = d6"
equation "\"d20\" = d19"
equation "\"d21\" = d19"
equation "\"d22\" = d19"
equation "\"d26\" = d25"
equation "\"d27\" = d25"
equation "\"d28\" = d25"
equation "\"d62\" = d60"
properties part number "Y Axis Belt Stationary and Plate Spacer"
